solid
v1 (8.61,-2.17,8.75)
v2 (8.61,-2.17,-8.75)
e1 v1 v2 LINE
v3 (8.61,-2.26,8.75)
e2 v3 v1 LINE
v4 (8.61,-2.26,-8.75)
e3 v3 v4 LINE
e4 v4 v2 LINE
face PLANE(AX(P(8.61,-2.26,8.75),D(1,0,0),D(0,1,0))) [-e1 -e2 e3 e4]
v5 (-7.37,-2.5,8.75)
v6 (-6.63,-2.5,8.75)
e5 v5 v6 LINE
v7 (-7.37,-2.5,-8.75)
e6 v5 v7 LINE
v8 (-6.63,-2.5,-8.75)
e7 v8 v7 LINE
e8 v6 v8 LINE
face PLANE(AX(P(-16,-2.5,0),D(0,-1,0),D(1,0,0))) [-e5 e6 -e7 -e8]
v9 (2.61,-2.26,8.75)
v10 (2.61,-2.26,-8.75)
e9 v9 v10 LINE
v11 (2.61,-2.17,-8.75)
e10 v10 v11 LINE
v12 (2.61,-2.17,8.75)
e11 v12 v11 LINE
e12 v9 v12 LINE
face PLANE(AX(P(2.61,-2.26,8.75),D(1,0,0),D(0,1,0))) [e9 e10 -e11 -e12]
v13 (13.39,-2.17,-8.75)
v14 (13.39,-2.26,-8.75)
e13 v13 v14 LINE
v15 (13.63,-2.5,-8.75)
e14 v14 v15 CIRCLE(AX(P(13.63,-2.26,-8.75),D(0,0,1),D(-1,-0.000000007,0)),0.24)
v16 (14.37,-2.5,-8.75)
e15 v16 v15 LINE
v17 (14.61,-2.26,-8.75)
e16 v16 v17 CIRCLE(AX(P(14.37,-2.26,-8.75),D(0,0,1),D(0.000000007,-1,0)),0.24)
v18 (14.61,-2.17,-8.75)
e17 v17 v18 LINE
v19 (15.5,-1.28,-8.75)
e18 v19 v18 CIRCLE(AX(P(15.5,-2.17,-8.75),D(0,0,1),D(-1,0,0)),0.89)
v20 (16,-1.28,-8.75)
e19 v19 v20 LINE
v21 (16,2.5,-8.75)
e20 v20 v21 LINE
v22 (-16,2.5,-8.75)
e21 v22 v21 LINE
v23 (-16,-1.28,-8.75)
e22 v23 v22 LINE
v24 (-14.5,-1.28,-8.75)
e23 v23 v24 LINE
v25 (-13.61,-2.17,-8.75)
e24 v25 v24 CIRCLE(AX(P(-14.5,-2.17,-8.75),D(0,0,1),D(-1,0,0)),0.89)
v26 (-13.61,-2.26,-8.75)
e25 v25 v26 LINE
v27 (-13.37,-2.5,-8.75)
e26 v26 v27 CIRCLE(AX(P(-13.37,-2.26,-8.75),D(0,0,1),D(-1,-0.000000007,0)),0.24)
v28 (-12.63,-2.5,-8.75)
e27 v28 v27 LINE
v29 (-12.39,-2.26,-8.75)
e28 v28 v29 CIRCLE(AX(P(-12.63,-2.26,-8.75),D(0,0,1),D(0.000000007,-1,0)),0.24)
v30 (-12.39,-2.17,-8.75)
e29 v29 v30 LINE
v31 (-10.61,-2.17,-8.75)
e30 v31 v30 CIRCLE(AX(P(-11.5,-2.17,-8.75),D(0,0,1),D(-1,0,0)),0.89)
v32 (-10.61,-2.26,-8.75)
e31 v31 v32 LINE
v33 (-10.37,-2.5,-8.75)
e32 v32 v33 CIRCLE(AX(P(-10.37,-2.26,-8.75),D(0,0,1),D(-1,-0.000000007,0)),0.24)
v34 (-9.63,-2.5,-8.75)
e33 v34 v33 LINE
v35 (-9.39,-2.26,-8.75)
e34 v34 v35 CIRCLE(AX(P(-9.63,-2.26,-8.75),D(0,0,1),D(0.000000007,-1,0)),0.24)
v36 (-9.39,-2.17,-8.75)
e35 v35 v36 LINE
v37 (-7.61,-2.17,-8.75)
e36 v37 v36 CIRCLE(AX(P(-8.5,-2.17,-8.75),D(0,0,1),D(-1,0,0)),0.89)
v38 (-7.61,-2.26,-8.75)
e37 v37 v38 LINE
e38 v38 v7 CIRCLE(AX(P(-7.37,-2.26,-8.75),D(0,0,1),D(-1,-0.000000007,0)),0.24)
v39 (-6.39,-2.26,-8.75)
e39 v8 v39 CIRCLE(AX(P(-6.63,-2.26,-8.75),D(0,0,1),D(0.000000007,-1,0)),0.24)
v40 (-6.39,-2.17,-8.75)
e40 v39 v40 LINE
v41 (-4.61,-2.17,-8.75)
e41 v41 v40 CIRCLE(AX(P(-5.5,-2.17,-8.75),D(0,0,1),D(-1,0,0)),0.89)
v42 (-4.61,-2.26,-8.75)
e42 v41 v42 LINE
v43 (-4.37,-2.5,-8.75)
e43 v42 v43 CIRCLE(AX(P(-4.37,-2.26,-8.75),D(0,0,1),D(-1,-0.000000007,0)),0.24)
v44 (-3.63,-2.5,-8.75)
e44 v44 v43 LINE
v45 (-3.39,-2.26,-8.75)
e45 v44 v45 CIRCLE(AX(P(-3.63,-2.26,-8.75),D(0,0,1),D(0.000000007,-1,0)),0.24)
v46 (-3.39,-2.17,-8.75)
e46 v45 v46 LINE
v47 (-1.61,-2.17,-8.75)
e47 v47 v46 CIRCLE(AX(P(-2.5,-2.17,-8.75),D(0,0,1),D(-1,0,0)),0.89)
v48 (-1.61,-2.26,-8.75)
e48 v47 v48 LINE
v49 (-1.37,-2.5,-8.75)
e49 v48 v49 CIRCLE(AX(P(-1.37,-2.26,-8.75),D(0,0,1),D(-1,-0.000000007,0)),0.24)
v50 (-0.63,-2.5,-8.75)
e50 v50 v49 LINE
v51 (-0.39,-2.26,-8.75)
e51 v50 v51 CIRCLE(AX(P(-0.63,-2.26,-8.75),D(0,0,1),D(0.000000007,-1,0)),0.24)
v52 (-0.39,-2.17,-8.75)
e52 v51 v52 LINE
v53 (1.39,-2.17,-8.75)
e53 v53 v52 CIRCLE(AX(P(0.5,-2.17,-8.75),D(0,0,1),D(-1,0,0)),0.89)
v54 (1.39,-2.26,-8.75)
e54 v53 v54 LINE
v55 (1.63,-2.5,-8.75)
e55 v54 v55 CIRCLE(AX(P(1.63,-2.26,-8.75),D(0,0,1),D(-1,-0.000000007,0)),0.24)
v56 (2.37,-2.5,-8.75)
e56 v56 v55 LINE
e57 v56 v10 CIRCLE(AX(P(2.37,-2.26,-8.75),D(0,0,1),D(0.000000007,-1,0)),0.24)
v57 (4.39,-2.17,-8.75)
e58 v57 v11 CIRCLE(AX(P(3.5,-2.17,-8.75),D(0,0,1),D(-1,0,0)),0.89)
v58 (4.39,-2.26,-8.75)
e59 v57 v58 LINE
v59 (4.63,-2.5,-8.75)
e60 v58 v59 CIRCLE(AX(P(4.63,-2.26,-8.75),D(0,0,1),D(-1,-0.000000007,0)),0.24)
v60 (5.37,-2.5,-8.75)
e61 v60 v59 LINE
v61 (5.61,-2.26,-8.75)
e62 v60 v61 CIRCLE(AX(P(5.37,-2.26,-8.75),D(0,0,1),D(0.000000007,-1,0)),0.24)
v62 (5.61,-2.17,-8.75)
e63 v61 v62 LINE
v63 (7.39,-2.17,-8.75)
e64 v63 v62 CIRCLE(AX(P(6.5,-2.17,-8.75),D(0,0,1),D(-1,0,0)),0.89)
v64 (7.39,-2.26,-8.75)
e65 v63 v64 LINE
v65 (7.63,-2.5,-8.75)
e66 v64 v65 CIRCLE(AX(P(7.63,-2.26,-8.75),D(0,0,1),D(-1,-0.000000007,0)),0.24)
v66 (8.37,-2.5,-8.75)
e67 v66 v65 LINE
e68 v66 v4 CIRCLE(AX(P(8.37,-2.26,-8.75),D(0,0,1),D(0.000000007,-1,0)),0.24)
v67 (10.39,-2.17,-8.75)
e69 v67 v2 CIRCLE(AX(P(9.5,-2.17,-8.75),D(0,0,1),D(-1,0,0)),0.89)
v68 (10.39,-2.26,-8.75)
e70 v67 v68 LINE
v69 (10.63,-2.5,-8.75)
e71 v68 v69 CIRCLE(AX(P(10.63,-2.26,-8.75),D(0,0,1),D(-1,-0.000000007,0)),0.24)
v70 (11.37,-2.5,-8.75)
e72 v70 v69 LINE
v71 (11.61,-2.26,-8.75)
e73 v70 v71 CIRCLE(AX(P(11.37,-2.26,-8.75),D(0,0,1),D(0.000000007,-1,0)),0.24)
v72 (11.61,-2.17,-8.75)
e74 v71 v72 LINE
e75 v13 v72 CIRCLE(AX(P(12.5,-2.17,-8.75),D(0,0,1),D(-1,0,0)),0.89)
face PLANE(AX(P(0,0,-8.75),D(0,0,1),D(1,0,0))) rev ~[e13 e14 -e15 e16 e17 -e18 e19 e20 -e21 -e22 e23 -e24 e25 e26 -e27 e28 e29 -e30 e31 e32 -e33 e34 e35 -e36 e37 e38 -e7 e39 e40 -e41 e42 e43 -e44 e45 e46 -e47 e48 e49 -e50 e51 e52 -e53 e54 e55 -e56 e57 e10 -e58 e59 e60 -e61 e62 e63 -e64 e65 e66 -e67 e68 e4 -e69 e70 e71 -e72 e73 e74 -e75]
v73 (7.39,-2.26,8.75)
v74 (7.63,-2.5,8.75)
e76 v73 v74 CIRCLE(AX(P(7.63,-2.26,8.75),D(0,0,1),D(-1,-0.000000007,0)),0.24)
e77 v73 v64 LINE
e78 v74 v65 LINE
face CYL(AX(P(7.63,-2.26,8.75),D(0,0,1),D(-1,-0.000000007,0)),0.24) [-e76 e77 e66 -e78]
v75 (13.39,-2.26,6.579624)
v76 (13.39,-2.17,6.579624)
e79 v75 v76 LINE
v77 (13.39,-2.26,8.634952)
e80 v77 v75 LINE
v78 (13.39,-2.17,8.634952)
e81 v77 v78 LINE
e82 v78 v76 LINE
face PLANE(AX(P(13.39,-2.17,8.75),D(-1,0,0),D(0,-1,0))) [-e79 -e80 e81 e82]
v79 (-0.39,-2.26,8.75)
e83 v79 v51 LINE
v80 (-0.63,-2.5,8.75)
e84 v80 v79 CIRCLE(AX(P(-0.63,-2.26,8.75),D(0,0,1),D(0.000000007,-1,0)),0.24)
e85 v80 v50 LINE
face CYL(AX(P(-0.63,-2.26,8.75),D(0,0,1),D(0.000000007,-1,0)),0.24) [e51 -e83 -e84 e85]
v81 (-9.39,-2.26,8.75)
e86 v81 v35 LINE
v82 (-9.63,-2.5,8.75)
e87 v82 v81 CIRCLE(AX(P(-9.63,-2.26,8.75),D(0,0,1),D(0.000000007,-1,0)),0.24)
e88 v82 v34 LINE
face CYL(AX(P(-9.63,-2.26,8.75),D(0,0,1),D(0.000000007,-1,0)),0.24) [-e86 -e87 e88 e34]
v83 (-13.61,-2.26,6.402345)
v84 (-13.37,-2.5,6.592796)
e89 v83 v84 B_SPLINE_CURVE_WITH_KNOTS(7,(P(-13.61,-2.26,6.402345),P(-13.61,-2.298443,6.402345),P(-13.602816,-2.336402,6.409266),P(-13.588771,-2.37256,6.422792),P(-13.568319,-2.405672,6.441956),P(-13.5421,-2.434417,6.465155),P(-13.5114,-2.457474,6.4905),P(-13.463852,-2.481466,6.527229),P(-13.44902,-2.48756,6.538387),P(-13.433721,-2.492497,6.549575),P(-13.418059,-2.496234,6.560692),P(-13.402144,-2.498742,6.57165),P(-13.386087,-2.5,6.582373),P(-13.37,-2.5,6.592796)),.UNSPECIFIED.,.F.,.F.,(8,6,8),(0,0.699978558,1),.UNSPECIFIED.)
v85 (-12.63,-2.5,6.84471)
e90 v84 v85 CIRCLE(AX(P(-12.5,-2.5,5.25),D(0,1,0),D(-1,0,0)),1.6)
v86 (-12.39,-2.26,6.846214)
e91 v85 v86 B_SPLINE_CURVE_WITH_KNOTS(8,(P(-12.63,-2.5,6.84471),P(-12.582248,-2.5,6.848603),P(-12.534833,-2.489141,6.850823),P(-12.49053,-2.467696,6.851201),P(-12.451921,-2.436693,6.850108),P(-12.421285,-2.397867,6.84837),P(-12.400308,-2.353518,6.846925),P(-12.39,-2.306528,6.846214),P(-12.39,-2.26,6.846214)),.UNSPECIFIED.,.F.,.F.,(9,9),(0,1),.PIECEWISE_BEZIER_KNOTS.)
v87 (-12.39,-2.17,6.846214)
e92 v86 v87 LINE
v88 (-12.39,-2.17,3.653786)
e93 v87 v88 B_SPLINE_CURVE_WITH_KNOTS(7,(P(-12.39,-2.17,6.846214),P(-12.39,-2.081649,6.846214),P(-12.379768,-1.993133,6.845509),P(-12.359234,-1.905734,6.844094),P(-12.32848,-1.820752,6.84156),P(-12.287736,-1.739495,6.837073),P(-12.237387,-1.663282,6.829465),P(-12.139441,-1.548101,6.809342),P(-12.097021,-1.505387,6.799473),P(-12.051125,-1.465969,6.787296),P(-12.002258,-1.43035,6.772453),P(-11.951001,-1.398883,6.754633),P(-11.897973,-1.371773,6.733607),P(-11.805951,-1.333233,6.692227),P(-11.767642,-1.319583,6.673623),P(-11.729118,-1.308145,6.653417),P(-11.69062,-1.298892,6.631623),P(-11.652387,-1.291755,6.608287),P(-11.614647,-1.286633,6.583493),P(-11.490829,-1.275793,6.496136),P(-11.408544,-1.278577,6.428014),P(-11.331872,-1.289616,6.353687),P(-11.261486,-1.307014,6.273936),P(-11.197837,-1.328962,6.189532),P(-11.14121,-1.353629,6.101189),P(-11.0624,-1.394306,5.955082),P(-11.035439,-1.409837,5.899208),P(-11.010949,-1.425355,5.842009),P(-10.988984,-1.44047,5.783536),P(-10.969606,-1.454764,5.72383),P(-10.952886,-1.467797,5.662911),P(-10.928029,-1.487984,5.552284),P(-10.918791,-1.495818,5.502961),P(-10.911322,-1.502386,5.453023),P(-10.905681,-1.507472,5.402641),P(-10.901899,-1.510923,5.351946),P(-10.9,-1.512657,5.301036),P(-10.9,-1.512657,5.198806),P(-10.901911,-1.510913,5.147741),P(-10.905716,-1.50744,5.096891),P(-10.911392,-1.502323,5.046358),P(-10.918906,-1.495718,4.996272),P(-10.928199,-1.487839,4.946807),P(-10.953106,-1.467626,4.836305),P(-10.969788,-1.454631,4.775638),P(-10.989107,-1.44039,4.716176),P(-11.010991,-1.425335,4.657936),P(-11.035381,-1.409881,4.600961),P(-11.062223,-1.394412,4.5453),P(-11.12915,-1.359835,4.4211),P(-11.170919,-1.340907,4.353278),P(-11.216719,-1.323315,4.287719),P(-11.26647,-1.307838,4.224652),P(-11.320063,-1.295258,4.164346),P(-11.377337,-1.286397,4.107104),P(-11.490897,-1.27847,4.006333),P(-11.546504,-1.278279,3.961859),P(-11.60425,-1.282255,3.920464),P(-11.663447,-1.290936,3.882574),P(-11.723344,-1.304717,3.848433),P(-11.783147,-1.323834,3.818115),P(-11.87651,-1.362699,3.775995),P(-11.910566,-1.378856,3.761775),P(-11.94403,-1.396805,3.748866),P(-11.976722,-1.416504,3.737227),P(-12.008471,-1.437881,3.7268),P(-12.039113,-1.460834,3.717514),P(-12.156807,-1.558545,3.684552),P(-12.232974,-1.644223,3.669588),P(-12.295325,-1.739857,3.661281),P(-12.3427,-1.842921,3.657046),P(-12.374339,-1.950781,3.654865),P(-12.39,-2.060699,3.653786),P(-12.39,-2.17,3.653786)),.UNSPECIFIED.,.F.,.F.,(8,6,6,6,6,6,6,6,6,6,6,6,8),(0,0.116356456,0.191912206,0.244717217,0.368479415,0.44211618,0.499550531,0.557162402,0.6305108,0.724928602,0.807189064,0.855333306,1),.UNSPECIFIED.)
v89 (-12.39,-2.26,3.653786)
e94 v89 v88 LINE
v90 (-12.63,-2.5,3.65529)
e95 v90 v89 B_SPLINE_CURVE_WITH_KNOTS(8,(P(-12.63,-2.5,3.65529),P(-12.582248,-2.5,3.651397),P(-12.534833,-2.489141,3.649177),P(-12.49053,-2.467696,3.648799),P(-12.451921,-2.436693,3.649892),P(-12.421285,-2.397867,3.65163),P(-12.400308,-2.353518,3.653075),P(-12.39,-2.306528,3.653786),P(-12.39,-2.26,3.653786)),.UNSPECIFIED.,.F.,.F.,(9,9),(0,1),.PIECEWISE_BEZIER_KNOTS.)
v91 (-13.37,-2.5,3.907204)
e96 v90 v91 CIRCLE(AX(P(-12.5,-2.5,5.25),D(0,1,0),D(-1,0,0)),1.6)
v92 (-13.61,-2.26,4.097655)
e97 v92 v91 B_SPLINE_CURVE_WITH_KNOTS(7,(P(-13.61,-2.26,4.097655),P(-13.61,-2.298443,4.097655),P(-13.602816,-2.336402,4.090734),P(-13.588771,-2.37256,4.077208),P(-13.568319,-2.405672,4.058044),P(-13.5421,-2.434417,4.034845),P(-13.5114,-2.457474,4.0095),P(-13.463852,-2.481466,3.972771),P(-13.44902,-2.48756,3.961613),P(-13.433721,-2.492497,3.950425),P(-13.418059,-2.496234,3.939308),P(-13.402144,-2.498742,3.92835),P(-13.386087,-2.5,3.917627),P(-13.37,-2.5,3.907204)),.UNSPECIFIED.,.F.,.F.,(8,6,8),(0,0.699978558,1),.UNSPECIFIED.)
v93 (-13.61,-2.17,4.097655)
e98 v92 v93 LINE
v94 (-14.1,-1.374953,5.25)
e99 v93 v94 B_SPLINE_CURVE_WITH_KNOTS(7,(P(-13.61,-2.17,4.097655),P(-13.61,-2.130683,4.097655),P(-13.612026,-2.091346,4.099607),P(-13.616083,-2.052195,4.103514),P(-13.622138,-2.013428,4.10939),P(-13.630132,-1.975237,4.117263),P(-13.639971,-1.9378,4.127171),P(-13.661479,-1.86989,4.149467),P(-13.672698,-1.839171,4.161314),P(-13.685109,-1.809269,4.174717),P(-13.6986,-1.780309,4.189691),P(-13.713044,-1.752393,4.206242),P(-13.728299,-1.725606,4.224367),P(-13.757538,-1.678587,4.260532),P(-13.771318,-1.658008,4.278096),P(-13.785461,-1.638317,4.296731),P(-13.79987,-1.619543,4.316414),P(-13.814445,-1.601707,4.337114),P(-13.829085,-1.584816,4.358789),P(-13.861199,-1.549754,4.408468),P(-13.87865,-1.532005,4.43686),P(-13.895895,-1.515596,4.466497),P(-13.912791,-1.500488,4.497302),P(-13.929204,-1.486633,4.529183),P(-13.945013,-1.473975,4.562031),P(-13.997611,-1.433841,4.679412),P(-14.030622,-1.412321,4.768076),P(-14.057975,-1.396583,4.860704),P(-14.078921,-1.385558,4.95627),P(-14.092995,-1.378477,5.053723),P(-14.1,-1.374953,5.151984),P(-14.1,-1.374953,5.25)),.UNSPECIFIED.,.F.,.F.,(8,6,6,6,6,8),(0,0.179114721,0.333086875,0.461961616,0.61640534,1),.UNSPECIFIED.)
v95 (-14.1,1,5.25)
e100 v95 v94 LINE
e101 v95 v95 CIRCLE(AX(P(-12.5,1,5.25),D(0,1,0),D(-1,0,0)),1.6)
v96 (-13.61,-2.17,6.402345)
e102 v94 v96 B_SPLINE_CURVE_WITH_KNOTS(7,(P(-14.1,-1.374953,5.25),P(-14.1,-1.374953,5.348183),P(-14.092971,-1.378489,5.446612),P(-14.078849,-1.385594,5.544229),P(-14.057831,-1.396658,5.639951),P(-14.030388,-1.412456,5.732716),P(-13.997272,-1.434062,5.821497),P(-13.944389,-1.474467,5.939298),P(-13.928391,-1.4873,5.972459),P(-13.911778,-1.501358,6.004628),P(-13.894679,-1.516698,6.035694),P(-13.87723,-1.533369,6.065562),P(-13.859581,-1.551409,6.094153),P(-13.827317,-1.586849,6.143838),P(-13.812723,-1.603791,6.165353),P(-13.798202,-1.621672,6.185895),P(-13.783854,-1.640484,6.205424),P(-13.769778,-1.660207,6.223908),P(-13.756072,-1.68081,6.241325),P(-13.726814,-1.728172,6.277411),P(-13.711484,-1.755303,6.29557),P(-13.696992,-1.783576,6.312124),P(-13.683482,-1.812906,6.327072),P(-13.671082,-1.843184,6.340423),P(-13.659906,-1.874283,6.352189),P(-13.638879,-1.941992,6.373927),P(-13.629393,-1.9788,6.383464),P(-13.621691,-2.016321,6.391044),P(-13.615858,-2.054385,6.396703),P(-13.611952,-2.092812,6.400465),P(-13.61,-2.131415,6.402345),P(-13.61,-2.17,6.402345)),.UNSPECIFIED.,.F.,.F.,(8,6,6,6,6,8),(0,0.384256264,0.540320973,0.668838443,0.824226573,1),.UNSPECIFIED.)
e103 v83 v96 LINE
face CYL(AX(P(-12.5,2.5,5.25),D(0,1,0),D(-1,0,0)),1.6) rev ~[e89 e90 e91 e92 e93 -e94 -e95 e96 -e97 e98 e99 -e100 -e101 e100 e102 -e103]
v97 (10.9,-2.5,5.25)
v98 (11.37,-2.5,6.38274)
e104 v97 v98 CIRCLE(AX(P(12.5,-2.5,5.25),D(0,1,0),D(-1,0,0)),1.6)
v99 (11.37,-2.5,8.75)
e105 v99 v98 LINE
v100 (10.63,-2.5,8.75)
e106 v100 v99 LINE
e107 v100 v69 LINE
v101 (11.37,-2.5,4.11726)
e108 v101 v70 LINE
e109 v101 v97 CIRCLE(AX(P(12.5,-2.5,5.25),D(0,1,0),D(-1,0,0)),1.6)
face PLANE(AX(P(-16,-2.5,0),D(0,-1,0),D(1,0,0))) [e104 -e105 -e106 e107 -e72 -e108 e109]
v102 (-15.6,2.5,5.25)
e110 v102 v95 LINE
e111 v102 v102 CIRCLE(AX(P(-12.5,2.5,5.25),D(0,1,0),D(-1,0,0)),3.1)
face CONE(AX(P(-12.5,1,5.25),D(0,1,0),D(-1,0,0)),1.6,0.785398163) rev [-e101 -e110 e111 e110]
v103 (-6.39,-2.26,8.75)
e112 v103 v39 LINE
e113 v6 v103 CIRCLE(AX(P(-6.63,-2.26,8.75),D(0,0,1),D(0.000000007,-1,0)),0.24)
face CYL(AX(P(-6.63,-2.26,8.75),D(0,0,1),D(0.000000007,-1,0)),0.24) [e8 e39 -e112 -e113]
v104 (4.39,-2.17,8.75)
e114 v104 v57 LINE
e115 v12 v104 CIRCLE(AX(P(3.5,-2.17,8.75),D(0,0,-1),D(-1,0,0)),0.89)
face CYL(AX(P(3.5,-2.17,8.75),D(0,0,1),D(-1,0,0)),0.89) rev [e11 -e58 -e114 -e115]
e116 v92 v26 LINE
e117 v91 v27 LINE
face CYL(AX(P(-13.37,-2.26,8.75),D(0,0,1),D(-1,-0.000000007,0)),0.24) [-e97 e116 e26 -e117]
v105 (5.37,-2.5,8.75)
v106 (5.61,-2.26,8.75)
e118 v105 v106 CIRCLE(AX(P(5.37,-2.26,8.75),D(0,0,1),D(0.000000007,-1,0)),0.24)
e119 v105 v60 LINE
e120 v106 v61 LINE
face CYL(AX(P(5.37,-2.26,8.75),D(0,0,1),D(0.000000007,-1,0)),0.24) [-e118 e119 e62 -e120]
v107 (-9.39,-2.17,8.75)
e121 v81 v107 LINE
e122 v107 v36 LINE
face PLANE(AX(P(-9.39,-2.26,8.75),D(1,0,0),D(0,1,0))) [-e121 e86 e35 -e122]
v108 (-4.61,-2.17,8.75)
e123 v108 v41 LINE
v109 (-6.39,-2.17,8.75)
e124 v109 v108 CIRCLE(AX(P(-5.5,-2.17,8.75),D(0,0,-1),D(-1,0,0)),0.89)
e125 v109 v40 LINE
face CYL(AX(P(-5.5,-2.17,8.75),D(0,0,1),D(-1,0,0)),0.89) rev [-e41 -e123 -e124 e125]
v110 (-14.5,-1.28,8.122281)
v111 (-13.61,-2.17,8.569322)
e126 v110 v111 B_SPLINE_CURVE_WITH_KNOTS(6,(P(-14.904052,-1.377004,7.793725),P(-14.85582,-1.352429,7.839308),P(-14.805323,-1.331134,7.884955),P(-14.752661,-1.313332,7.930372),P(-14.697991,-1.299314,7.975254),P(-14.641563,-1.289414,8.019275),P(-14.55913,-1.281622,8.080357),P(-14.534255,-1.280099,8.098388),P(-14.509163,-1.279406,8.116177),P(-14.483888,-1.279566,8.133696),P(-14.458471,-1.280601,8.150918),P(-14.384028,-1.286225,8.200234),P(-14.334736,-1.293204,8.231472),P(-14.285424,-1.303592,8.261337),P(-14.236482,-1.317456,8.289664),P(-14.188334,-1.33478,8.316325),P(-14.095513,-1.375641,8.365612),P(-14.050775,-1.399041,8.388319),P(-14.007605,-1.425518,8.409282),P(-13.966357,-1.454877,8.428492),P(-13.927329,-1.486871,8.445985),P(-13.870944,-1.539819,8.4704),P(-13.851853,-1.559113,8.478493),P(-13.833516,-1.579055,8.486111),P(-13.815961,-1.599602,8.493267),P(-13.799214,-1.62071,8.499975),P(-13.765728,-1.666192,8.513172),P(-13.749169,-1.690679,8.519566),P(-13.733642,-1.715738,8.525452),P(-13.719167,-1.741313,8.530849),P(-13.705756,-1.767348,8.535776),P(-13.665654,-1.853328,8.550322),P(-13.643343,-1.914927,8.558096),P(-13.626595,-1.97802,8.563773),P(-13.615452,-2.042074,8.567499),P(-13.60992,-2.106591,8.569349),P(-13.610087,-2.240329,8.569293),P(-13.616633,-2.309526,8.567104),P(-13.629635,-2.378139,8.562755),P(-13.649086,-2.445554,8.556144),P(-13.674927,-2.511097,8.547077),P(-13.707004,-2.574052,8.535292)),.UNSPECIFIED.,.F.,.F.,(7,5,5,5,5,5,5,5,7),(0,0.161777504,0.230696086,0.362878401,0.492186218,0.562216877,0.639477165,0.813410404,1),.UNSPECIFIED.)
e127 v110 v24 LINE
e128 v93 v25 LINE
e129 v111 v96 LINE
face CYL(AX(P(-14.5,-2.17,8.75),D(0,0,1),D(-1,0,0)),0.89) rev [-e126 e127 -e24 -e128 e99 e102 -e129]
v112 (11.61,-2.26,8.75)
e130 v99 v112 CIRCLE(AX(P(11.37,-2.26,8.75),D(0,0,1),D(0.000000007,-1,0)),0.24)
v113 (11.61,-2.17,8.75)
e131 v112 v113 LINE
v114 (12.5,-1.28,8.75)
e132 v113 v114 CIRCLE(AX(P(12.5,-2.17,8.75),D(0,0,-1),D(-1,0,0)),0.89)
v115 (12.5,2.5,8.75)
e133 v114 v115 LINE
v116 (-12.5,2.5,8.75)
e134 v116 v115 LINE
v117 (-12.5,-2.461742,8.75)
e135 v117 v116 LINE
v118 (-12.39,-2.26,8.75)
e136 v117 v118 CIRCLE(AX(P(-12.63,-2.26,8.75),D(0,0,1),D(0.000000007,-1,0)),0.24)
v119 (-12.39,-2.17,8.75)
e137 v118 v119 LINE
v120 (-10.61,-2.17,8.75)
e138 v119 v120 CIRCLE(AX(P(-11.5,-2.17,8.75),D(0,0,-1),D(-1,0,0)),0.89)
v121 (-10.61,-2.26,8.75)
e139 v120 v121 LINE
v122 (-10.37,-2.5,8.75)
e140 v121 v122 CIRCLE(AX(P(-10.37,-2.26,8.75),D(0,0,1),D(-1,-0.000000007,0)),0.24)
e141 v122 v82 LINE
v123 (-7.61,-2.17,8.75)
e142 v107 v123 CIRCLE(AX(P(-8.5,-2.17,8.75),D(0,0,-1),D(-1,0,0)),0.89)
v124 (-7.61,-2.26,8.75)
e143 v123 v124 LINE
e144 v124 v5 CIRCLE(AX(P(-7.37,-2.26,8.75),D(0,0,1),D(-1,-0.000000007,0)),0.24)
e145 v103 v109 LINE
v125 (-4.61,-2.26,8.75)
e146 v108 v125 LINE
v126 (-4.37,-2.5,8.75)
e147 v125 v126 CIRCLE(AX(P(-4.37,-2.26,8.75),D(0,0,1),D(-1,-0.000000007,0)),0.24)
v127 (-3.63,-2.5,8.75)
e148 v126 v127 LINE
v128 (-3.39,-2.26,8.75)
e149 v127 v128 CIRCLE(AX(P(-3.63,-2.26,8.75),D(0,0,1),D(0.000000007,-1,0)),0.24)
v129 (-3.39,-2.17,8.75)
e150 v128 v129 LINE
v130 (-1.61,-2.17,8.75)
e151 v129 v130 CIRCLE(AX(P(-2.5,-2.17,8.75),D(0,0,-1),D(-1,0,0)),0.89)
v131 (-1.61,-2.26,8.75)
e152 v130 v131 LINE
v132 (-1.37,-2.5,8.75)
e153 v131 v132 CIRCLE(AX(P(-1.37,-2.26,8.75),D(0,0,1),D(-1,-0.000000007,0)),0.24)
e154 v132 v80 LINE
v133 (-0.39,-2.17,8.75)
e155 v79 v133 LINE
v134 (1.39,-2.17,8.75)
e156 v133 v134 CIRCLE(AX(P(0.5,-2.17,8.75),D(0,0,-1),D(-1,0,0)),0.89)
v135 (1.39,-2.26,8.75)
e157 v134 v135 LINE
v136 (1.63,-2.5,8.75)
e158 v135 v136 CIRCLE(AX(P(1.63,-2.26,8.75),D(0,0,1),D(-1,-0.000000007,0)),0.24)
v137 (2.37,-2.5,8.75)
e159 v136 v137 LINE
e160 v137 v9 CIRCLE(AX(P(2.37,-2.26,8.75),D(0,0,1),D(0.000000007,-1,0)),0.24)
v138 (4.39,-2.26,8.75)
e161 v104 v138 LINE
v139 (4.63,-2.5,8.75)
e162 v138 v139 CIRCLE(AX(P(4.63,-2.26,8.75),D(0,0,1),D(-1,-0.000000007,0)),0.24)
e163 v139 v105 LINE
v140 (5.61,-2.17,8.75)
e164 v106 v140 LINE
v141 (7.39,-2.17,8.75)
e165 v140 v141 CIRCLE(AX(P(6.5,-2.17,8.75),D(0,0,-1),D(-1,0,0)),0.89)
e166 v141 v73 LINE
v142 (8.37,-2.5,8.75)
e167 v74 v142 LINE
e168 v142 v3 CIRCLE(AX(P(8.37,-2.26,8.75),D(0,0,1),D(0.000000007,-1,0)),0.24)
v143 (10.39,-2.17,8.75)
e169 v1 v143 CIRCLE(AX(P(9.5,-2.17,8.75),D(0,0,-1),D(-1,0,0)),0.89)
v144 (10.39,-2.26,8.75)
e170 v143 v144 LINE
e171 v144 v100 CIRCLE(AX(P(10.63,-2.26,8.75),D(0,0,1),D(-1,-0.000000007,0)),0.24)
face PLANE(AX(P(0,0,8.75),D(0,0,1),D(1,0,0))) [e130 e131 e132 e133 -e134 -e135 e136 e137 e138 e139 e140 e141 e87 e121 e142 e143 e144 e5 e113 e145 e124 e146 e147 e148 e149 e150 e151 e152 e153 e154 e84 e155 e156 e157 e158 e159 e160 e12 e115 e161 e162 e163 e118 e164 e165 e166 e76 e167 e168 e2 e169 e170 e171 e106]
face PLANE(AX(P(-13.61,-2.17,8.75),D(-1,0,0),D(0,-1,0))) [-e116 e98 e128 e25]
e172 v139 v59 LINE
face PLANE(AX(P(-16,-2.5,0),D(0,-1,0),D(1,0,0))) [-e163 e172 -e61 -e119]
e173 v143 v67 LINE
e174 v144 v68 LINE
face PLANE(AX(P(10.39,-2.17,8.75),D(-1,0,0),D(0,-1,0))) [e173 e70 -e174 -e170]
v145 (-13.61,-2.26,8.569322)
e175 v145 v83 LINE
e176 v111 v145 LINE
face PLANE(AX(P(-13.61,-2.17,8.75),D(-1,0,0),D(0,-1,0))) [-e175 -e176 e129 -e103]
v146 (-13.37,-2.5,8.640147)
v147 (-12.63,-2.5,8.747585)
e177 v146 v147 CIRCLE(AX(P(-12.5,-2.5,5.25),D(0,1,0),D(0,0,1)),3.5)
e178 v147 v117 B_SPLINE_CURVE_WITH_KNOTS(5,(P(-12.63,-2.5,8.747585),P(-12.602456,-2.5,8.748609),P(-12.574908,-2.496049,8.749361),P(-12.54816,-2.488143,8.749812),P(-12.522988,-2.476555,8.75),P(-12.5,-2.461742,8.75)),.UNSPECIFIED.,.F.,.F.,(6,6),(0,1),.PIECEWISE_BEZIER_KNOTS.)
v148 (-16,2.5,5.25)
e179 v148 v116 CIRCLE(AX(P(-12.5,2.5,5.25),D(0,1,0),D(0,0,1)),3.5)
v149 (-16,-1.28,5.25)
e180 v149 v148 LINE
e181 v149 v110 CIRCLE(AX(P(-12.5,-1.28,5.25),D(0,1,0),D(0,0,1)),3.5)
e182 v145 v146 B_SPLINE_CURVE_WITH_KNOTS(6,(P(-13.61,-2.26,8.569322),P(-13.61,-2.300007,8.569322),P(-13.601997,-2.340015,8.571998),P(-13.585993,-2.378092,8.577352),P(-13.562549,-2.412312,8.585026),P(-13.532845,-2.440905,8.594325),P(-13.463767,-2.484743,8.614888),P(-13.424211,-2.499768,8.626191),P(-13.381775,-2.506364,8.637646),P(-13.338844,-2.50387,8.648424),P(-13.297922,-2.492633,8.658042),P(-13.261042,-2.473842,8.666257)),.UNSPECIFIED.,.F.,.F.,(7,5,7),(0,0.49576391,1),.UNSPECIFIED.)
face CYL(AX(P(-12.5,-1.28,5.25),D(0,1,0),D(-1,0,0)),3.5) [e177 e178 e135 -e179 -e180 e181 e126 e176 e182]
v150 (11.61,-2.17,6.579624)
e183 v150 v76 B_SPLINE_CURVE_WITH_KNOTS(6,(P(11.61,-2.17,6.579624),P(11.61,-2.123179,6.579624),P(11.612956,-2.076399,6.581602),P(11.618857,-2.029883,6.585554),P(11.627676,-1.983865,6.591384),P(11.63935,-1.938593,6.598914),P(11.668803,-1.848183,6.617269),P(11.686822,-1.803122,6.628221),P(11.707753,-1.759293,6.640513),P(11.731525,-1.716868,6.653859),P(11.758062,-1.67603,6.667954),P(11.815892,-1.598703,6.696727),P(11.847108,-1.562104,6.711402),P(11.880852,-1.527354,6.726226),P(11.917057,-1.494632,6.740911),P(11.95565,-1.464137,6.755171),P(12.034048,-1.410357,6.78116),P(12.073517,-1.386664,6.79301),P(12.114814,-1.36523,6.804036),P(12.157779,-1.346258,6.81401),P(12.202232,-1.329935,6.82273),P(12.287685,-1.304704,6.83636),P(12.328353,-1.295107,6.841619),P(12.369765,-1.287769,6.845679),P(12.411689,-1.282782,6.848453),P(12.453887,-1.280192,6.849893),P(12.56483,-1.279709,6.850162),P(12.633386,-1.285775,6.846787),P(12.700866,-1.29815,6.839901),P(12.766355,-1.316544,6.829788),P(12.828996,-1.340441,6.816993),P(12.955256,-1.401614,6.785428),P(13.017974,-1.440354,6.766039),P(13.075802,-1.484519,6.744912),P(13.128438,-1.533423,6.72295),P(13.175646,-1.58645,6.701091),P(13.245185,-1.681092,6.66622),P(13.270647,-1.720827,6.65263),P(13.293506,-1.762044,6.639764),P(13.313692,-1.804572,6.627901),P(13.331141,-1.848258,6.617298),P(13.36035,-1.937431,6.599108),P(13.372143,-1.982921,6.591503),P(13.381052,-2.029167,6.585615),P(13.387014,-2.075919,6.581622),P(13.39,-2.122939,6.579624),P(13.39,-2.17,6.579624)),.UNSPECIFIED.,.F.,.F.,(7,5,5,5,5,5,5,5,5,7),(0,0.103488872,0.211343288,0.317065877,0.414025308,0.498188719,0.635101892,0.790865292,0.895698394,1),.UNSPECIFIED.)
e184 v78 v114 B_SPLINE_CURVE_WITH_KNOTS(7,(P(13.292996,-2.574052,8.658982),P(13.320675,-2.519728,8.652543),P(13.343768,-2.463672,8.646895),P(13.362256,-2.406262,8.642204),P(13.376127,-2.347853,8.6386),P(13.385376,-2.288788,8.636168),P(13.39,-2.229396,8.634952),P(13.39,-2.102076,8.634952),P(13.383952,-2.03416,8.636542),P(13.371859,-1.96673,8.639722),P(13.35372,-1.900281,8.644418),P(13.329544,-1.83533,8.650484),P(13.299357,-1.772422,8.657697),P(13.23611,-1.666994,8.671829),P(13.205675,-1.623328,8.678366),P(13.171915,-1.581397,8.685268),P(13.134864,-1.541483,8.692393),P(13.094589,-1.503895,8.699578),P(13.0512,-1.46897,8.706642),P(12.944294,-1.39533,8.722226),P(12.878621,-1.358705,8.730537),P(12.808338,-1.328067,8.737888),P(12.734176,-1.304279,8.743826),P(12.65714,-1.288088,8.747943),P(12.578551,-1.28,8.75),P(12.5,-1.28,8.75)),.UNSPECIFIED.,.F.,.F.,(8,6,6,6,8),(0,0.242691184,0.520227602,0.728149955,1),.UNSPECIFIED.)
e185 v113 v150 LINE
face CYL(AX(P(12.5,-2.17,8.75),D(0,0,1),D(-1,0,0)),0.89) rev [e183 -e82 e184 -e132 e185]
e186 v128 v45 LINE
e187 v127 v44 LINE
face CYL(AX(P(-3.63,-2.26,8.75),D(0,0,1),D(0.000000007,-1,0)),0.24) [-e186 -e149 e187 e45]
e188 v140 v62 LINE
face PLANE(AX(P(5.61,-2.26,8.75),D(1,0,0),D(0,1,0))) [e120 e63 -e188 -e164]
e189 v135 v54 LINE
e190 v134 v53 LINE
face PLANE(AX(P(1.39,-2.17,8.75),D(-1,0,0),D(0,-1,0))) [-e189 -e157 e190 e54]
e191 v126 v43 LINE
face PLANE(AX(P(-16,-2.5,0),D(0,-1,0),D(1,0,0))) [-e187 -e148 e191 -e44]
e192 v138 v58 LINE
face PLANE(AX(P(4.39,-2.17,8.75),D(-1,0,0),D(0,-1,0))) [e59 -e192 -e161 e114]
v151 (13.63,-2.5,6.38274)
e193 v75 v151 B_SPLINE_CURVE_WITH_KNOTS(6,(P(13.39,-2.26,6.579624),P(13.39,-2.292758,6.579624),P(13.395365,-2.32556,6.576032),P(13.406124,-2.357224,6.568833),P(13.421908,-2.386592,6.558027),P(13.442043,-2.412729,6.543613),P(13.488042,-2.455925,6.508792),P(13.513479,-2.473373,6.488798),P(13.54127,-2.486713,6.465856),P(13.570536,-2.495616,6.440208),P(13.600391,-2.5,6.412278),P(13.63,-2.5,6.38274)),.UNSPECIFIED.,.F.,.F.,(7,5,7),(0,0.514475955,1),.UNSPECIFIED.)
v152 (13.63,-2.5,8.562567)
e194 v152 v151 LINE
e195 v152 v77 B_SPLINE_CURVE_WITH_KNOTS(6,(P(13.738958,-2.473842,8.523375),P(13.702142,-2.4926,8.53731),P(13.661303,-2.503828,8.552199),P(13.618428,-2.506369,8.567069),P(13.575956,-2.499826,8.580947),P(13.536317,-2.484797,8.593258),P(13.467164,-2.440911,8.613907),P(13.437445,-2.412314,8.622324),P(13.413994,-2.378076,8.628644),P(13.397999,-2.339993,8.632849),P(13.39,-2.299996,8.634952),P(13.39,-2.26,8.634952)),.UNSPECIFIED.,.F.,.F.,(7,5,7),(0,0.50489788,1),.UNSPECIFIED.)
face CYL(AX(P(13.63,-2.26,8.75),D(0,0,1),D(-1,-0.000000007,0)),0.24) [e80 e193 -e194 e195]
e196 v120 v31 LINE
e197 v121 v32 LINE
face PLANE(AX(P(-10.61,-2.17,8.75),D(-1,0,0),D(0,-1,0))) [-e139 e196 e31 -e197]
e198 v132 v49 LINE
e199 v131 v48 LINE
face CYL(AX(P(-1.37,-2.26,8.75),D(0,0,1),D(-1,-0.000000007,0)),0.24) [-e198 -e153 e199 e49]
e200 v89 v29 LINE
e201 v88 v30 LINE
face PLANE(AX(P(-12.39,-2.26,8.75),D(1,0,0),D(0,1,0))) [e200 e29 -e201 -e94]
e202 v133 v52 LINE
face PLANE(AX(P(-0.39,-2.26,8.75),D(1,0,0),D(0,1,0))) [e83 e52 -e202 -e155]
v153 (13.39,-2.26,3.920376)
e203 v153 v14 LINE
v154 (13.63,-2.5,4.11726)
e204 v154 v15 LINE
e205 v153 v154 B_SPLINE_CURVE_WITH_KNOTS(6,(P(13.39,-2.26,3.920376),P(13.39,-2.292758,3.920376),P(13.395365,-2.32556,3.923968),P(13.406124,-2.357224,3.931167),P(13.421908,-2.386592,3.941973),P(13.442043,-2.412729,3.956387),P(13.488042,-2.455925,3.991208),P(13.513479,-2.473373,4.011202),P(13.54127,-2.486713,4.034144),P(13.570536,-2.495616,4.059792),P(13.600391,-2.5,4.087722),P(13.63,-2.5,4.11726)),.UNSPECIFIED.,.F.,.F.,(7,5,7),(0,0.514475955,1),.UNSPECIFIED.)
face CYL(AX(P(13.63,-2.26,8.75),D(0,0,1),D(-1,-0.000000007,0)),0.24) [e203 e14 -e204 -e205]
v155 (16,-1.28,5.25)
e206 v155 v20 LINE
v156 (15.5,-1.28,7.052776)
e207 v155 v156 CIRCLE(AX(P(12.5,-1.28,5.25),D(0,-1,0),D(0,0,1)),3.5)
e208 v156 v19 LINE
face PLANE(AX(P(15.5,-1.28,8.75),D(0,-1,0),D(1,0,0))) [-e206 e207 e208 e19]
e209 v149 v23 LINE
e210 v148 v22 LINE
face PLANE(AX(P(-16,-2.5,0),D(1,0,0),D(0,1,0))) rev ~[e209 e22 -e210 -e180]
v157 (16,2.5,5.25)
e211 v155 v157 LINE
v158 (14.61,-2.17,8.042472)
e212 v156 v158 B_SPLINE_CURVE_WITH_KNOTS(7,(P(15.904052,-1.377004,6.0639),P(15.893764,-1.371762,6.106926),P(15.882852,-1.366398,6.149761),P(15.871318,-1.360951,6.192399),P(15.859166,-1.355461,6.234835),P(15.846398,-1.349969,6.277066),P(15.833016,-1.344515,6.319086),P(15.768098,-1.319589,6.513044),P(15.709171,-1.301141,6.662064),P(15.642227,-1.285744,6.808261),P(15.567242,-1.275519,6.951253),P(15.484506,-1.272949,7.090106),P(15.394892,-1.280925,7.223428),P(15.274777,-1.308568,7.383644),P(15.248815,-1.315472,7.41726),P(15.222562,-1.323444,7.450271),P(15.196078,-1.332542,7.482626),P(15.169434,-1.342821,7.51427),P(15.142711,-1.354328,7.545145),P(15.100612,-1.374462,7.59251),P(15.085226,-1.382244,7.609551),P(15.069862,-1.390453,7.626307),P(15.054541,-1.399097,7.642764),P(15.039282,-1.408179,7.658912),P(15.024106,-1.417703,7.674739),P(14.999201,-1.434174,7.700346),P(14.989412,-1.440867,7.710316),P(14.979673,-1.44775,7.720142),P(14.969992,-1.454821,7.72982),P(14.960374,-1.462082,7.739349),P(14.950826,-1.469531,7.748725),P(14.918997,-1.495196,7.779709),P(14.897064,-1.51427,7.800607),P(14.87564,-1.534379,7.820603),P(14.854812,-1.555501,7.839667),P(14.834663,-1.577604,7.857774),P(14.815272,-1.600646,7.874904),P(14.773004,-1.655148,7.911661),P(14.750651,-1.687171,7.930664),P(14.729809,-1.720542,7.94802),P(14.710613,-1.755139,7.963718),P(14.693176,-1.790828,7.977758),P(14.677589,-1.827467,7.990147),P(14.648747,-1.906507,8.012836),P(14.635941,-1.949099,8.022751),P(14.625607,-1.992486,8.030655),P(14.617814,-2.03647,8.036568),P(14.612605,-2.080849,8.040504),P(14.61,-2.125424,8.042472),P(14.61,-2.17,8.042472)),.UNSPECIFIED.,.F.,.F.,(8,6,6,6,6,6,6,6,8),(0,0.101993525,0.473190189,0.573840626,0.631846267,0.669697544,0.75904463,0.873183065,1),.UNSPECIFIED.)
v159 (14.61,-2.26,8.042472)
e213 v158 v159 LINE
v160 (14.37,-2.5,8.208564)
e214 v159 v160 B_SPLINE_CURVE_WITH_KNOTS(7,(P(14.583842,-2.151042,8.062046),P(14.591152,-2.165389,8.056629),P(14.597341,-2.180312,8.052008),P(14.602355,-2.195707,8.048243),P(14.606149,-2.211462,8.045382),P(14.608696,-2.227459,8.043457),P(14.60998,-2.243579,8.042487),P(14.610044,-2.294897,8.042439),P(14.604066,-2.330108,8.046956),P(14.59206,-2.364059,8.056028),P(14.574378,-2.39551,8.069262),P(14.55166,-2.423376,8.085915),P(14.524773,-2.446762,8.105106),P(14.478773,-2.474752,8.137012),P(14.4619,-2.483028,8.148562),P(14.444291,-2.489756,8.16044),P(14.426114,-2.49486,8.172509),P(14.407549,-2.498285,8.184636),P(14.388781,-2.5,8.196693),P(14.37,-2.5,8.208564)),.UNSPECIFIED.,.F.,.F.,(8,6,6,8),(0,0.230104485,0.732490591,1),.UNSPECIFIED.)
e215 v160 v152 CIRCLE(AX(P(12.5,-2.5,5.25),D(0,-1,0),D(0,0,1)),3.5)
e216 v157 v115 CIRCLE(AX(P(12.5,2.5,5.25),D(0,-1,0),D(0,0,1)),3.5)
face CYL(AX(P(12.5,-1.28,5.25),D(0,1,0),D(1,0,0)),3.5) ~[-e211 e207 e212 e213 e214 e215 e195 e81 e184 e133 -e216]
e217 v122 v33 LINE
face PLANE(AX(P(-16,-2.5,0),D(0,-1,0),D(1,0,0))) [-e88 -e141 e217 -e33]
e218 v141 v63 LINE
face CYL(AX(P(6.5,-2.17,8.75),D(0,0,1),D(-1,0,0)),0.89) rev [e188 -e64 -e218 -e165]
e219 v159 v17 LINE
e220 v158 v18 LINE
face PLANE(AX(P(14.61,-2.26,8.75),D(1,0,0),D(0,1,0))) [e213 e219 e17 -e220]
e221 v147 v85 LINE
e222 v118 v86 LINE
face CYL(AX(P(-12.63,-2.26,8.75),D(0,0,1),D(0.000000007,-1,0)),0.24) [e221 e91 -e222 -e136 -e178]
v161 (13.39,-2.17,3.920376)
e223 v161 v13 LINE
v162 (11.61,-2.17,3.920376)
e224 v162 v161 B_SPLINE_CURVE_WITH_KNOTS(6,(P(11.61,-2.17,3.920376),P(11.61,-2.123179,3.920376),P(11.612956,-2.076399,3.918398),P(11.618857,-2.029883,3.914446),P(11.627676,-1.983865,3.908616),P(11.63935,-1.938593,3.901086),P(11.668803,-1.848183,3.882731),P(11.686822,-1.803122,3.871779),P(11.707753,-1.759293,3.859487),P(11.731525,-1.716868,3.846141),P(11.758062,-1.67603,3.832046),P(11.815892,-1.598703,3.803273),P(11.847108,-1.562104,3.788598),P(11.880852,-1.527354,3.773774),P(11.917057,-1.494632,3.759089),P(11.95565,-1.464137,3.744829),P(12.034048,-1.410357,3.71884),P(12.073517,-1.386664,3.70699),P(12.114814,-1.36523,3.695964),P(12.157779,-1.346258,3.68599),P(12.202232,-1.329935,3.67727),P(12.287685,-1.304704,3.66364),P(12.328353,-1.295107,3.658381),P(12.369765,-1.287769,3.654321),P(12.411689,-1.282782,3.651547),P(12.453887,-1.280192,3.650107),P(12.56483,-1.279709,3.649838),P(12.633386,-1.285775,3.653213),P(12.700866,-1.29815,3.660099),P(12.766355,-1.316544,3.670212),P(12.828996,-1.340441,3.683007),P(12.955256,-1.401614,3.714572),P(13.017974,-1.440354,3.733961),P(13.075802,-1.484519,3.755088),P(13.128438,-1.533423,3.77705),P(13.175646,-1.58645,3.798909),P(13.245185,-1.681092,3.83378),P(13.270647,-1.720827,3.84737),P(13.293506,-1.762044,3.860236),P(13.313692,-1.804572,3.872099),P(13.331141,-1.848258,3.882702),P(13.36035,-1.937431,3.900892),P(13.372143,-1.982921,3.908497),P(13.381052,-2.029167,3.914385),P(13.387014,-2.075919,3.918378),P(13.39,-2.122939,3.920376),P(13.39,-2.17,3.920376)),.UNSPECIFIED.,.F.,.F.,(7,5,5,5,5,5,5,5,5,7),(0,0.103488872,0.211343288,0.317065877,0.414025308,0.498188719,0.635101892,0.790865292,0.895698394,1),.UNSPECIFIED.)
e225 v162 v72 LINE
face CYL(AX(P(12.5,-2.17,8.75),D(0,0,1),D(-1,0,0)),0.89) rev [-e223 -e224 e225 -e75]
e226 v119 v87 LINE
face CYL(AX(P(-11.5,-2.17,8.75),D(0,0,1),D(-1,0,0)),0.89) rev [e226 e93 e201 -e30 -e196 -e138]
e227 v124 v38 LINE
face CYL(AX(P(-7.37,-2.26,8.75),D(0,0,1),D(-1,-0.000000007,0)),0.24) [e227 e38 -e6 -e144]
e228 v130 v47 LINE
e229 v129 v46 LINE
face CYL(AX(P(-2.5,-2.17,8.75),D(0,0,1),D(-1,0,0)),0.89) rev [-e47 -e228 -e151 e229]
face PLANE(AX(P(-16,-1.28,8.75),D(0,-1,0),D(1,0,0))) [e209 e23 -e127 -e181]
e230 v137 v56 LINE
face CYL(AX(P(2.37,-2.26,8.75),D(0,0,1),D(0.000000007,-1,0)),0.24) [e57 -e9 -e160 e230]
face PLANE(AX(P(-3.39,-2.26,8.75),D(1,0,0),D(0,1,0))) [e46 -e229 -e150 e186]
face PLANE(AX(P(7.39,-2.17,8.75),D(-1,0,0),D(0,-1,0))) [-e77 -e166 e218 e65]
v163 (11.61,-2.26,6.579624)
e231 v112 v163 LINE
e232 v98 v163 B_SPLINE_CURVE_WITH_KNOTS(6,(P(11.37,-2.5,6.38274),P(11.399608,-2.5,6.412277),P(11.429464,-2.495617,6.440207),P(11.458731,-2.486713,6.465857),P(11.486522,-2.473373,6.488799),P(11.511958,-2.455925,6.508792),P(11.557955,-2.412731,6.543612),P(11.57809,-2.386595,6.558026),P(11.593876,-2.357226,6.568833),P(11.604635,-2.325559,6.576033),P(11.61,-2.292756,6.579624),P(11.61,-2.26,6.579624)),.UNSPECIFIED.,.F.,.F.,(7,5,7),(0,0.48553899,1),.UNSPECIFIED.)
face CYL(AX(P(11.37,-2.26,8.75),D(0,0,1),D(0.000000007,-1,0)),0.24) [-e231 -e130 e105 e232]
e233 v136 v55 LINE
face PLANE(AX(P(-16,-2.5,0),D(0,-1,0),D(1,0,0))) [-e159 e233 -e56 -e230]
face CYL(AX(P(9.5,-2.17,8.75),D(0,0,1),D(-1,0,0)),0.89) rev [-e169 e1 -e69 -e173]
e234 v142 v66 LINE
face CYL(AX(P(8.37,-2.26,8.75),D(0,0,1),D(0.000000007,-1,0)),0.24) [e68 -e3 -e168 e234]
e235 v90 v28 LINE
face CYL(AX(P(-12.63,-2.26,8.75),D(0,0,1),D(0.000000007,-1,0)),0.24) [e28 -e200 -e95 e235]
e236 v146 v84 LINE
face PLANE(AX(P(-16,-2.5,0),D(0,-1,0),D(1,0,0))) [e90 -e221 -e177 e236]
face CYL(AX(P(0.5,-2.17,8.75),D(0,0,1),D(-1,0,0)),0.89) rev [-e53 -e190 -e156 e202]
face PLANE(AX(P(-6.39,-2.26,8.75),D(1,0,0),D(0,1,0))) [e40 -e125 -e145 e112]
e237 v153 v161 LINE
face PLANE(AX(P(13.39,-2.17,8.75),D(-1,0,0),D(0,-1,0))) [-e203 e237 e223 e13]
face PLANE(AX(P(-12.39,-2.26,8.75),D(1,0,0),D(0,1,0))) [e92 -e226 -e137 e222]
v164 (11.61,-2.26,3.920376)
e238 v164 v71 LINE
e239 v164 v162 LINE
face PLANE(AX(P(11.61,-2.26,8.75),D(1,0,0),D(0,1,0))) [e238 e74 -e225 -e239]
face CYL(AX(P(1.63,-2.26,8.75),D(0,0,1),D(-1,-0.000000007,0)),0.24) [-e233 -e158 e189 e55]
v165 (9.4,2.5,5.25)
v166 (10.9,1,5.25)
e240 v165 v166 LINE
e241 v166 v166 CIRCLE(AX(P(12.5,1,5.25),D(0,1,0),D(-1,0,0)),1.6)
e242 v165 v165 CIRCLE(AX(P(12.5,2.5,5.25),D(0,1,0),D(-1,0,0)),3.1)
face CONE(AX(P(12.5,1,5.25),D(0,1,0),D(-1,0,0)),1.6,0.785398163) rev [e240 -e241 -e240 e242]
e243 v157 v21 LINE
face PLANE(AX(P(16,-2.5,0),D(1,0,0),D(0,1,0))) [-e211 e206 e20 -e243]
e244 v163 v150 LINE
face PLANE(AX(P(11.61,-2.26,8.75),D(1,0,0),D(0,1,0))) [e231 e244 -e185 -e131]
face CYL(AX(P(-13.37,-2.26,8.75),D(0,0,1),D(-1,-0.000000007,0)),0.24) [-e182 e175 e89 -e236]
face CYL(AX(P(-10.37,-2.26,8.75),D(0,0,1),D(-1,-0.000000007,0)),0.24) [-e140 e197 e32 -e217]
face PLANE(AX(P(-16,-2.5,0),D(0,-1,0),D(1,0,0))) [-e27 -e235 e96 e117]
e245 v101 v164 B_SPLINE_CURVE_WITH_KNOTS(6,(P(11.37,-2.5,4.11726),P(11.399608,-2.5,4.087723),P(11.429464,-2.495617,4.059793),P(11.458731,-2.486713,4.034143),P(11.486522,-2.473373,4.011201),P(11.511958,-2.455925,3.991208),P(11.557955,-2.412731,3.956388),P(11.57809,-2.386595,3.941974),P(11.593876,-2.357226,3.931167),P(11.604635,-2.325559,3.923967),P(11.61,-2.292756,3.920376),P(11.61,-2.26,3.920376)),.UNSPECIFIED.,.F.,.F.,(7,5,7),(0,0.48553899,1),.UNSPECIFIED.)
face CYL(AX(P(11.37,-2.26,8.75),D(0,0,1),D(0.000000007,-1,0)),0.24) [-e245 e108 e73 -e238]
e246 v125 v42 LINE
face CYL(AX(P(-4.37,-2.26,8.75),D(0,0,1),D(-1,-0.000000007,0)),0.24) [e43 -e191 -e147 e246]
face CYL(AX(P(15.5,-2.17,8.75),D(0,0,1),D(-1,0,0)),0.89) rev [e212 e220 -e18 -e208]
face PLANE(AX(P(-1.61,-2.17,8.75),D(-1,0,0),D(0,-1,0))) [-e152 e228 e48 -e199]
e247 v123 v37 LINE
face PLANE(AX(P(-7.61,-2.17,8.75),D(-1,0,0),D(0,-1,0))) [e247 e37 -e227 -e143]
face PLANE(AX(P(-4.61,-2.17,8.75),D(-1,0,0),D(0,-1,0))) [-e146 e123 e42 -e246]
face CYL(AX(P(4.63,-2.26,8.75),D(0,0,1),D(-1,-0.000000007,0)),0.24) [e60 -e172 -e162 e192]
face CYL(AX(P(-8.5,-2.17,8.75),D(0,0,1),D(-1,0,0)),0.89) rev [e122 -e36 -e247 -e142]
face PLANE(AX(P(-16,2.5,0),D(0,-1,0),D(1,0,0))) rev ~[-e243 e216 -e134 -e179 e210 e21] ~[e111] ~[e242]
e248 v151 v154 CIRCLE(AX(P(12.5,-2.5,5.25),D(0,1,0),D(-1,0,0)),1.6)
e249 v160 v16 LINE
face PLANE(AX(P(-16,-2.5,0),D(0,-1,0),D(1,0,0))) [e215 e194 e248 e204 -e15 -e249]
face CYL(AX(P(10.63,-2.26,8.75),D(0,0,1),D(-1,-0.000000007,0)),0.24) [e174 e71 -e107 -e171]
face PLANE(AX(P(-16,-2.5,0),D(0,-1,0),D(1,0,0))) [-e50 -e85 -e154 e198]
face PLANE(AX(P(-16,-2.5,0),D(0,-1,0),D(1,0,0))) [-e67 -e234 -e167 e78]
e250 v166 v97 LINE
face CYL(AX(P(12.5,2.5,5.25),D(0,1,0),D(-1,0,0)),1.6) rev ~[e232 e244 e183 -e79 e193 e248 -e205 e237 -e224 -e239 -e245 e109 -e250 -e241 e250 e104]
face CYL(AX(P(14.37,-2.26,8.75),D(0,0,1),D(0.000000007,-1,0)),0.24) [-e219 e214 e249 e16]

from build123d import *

# Parameters (mm, degrees)
SKETCH_1_W             = 32
SKETCH_1_H             = 5
EXTRUDE_1_DEPTH        = 8.75
CUT_EXTRUDE_1_DEPTH    = 24.843238035
PATTERN_LINEAR_1_COUNT = 11
PATTERN_LINEAR_1_PITCH = 3
SKETCH_3_W             = 1.5
SKETCH_3_H             = 1.22
SKETCH_3_W_2           = 0.5
CUT_EXTRUDE_2_DEPTH    = 24.843238035
SKETCH_4_R             = 1.6
CUT_EXTRUDE_3_DEPTH    = 19.909323097
CHAMFER_1_SIZE         = 1.5
FILLET_1_R             = 3.5


with BuildPart() as part:
    # 草图1 → 凸台-拉伸1 (new, symmetric)
    with BuildSketch(Plane.XY):
        Rectangle(SKETCH_1_W, SKETCH_1_H)
    extrude(amount=EXTRUDE_1_DEPTH, both=True)

    # 草图2 → 切除-拉伸1 (cut, through all)
    with BuildSketch(Plane.XY.offset(8.75)):
        with BuildLine():
            Line((-16, -2.5), (-15.63, -2.5))
            ThreePointArc((-15.63, -2.5), (-15.460294373, -2.429705627), (-15.39, -2.26))
            Line((-15.39, -2.26), (-15.39, -2.17))
            ThreePointArc((-15.39, -2.17), (-14.5, -1.28), (-13.61, -2.17))
            Line((-13.61, -2.17), (-13.61, -2.26))
            ThreePointArc((-13.61, -2.26), (-13.539705627, -2.429705627), (-13.37, -2.5))
            Line((-13.37, -2.5), (-13, -2.5))
            Line((-13, -2.5), (-13, -3.5))
            Line((-13, -3.5), (-16, -3.5))
            Line((-16, -3.5), (-16, -2.5))
        make_face()
    cut_extrude_1 = extrude(amount=-CUT_EXTRUDE_1_DEPTH, mode=Mode.SUBTRACT)

    # 阵列(线性)1: 切除-拉伸1 ×11
    with Locations(*[(i * PATTERN_LINEAR_1_PITCH, 0, 0) for i in range(1, PATTERN_LINEAR_1_COUNT)]):
        add(cut_extrude_1, mode=Mode.SUBTRACT)

    # 草图3 → 切除-拉伸2 (cut, through all)
    with BuildSketch(Plane.XY.offset(8.75)):
        with Locations((-15.25, -1.89)):
            Rectangle(SKETCH_3_W, SKETCH_3_H)
        with Locations((15.75, -1.89)):
            Rectangle(SKETCH_3_W_2, SKETCH_3_H)
    extrude(amount=-CUT_EXTRUDE_2_DEPTH, mode=Mode.SUBTRACT)

    # 草图4 → 切除-拉伸3 (cut, through all)
    with BuildSketch(Plane(origin=(0, 2.5, 0), x_dir=(1, 0, 0), z_dir=(0, 1, 0))):
        with Locations(Location((-12.5, -5.25, 0), (0, 0, 180))):
            Circle(SKETCH_4_R)
        with Locations(Location((12.5, -5.25, 0), (0, 0, 180))):
            Circle(SKETCH_4_R)
    extrude(amount=-CUT_EXTRUDE_3_DEPTH, mode=Mode.SUBTRACT)

    # 倒角1
    chamfer_1_edges = [part.edges().sort_by_distance(p)[0] for p in [
        (-10.9, 2.5, 5.25),
        (14.1, 2.5, 5.25),
    ]]
    chamfer(chamfer_1_edges, length=CHAMFER_1_SIZE)

    # 圆角1
    fillet_1_edges = [part.edges().sort_by_distance(p)[0] for p in [
        (-16, 0.61, 8.75),
        (16, 0.61, 8.75),
    ]]
    fillet(fillet_1_edges, radius=FILLET_1_R)


solid = part.part
